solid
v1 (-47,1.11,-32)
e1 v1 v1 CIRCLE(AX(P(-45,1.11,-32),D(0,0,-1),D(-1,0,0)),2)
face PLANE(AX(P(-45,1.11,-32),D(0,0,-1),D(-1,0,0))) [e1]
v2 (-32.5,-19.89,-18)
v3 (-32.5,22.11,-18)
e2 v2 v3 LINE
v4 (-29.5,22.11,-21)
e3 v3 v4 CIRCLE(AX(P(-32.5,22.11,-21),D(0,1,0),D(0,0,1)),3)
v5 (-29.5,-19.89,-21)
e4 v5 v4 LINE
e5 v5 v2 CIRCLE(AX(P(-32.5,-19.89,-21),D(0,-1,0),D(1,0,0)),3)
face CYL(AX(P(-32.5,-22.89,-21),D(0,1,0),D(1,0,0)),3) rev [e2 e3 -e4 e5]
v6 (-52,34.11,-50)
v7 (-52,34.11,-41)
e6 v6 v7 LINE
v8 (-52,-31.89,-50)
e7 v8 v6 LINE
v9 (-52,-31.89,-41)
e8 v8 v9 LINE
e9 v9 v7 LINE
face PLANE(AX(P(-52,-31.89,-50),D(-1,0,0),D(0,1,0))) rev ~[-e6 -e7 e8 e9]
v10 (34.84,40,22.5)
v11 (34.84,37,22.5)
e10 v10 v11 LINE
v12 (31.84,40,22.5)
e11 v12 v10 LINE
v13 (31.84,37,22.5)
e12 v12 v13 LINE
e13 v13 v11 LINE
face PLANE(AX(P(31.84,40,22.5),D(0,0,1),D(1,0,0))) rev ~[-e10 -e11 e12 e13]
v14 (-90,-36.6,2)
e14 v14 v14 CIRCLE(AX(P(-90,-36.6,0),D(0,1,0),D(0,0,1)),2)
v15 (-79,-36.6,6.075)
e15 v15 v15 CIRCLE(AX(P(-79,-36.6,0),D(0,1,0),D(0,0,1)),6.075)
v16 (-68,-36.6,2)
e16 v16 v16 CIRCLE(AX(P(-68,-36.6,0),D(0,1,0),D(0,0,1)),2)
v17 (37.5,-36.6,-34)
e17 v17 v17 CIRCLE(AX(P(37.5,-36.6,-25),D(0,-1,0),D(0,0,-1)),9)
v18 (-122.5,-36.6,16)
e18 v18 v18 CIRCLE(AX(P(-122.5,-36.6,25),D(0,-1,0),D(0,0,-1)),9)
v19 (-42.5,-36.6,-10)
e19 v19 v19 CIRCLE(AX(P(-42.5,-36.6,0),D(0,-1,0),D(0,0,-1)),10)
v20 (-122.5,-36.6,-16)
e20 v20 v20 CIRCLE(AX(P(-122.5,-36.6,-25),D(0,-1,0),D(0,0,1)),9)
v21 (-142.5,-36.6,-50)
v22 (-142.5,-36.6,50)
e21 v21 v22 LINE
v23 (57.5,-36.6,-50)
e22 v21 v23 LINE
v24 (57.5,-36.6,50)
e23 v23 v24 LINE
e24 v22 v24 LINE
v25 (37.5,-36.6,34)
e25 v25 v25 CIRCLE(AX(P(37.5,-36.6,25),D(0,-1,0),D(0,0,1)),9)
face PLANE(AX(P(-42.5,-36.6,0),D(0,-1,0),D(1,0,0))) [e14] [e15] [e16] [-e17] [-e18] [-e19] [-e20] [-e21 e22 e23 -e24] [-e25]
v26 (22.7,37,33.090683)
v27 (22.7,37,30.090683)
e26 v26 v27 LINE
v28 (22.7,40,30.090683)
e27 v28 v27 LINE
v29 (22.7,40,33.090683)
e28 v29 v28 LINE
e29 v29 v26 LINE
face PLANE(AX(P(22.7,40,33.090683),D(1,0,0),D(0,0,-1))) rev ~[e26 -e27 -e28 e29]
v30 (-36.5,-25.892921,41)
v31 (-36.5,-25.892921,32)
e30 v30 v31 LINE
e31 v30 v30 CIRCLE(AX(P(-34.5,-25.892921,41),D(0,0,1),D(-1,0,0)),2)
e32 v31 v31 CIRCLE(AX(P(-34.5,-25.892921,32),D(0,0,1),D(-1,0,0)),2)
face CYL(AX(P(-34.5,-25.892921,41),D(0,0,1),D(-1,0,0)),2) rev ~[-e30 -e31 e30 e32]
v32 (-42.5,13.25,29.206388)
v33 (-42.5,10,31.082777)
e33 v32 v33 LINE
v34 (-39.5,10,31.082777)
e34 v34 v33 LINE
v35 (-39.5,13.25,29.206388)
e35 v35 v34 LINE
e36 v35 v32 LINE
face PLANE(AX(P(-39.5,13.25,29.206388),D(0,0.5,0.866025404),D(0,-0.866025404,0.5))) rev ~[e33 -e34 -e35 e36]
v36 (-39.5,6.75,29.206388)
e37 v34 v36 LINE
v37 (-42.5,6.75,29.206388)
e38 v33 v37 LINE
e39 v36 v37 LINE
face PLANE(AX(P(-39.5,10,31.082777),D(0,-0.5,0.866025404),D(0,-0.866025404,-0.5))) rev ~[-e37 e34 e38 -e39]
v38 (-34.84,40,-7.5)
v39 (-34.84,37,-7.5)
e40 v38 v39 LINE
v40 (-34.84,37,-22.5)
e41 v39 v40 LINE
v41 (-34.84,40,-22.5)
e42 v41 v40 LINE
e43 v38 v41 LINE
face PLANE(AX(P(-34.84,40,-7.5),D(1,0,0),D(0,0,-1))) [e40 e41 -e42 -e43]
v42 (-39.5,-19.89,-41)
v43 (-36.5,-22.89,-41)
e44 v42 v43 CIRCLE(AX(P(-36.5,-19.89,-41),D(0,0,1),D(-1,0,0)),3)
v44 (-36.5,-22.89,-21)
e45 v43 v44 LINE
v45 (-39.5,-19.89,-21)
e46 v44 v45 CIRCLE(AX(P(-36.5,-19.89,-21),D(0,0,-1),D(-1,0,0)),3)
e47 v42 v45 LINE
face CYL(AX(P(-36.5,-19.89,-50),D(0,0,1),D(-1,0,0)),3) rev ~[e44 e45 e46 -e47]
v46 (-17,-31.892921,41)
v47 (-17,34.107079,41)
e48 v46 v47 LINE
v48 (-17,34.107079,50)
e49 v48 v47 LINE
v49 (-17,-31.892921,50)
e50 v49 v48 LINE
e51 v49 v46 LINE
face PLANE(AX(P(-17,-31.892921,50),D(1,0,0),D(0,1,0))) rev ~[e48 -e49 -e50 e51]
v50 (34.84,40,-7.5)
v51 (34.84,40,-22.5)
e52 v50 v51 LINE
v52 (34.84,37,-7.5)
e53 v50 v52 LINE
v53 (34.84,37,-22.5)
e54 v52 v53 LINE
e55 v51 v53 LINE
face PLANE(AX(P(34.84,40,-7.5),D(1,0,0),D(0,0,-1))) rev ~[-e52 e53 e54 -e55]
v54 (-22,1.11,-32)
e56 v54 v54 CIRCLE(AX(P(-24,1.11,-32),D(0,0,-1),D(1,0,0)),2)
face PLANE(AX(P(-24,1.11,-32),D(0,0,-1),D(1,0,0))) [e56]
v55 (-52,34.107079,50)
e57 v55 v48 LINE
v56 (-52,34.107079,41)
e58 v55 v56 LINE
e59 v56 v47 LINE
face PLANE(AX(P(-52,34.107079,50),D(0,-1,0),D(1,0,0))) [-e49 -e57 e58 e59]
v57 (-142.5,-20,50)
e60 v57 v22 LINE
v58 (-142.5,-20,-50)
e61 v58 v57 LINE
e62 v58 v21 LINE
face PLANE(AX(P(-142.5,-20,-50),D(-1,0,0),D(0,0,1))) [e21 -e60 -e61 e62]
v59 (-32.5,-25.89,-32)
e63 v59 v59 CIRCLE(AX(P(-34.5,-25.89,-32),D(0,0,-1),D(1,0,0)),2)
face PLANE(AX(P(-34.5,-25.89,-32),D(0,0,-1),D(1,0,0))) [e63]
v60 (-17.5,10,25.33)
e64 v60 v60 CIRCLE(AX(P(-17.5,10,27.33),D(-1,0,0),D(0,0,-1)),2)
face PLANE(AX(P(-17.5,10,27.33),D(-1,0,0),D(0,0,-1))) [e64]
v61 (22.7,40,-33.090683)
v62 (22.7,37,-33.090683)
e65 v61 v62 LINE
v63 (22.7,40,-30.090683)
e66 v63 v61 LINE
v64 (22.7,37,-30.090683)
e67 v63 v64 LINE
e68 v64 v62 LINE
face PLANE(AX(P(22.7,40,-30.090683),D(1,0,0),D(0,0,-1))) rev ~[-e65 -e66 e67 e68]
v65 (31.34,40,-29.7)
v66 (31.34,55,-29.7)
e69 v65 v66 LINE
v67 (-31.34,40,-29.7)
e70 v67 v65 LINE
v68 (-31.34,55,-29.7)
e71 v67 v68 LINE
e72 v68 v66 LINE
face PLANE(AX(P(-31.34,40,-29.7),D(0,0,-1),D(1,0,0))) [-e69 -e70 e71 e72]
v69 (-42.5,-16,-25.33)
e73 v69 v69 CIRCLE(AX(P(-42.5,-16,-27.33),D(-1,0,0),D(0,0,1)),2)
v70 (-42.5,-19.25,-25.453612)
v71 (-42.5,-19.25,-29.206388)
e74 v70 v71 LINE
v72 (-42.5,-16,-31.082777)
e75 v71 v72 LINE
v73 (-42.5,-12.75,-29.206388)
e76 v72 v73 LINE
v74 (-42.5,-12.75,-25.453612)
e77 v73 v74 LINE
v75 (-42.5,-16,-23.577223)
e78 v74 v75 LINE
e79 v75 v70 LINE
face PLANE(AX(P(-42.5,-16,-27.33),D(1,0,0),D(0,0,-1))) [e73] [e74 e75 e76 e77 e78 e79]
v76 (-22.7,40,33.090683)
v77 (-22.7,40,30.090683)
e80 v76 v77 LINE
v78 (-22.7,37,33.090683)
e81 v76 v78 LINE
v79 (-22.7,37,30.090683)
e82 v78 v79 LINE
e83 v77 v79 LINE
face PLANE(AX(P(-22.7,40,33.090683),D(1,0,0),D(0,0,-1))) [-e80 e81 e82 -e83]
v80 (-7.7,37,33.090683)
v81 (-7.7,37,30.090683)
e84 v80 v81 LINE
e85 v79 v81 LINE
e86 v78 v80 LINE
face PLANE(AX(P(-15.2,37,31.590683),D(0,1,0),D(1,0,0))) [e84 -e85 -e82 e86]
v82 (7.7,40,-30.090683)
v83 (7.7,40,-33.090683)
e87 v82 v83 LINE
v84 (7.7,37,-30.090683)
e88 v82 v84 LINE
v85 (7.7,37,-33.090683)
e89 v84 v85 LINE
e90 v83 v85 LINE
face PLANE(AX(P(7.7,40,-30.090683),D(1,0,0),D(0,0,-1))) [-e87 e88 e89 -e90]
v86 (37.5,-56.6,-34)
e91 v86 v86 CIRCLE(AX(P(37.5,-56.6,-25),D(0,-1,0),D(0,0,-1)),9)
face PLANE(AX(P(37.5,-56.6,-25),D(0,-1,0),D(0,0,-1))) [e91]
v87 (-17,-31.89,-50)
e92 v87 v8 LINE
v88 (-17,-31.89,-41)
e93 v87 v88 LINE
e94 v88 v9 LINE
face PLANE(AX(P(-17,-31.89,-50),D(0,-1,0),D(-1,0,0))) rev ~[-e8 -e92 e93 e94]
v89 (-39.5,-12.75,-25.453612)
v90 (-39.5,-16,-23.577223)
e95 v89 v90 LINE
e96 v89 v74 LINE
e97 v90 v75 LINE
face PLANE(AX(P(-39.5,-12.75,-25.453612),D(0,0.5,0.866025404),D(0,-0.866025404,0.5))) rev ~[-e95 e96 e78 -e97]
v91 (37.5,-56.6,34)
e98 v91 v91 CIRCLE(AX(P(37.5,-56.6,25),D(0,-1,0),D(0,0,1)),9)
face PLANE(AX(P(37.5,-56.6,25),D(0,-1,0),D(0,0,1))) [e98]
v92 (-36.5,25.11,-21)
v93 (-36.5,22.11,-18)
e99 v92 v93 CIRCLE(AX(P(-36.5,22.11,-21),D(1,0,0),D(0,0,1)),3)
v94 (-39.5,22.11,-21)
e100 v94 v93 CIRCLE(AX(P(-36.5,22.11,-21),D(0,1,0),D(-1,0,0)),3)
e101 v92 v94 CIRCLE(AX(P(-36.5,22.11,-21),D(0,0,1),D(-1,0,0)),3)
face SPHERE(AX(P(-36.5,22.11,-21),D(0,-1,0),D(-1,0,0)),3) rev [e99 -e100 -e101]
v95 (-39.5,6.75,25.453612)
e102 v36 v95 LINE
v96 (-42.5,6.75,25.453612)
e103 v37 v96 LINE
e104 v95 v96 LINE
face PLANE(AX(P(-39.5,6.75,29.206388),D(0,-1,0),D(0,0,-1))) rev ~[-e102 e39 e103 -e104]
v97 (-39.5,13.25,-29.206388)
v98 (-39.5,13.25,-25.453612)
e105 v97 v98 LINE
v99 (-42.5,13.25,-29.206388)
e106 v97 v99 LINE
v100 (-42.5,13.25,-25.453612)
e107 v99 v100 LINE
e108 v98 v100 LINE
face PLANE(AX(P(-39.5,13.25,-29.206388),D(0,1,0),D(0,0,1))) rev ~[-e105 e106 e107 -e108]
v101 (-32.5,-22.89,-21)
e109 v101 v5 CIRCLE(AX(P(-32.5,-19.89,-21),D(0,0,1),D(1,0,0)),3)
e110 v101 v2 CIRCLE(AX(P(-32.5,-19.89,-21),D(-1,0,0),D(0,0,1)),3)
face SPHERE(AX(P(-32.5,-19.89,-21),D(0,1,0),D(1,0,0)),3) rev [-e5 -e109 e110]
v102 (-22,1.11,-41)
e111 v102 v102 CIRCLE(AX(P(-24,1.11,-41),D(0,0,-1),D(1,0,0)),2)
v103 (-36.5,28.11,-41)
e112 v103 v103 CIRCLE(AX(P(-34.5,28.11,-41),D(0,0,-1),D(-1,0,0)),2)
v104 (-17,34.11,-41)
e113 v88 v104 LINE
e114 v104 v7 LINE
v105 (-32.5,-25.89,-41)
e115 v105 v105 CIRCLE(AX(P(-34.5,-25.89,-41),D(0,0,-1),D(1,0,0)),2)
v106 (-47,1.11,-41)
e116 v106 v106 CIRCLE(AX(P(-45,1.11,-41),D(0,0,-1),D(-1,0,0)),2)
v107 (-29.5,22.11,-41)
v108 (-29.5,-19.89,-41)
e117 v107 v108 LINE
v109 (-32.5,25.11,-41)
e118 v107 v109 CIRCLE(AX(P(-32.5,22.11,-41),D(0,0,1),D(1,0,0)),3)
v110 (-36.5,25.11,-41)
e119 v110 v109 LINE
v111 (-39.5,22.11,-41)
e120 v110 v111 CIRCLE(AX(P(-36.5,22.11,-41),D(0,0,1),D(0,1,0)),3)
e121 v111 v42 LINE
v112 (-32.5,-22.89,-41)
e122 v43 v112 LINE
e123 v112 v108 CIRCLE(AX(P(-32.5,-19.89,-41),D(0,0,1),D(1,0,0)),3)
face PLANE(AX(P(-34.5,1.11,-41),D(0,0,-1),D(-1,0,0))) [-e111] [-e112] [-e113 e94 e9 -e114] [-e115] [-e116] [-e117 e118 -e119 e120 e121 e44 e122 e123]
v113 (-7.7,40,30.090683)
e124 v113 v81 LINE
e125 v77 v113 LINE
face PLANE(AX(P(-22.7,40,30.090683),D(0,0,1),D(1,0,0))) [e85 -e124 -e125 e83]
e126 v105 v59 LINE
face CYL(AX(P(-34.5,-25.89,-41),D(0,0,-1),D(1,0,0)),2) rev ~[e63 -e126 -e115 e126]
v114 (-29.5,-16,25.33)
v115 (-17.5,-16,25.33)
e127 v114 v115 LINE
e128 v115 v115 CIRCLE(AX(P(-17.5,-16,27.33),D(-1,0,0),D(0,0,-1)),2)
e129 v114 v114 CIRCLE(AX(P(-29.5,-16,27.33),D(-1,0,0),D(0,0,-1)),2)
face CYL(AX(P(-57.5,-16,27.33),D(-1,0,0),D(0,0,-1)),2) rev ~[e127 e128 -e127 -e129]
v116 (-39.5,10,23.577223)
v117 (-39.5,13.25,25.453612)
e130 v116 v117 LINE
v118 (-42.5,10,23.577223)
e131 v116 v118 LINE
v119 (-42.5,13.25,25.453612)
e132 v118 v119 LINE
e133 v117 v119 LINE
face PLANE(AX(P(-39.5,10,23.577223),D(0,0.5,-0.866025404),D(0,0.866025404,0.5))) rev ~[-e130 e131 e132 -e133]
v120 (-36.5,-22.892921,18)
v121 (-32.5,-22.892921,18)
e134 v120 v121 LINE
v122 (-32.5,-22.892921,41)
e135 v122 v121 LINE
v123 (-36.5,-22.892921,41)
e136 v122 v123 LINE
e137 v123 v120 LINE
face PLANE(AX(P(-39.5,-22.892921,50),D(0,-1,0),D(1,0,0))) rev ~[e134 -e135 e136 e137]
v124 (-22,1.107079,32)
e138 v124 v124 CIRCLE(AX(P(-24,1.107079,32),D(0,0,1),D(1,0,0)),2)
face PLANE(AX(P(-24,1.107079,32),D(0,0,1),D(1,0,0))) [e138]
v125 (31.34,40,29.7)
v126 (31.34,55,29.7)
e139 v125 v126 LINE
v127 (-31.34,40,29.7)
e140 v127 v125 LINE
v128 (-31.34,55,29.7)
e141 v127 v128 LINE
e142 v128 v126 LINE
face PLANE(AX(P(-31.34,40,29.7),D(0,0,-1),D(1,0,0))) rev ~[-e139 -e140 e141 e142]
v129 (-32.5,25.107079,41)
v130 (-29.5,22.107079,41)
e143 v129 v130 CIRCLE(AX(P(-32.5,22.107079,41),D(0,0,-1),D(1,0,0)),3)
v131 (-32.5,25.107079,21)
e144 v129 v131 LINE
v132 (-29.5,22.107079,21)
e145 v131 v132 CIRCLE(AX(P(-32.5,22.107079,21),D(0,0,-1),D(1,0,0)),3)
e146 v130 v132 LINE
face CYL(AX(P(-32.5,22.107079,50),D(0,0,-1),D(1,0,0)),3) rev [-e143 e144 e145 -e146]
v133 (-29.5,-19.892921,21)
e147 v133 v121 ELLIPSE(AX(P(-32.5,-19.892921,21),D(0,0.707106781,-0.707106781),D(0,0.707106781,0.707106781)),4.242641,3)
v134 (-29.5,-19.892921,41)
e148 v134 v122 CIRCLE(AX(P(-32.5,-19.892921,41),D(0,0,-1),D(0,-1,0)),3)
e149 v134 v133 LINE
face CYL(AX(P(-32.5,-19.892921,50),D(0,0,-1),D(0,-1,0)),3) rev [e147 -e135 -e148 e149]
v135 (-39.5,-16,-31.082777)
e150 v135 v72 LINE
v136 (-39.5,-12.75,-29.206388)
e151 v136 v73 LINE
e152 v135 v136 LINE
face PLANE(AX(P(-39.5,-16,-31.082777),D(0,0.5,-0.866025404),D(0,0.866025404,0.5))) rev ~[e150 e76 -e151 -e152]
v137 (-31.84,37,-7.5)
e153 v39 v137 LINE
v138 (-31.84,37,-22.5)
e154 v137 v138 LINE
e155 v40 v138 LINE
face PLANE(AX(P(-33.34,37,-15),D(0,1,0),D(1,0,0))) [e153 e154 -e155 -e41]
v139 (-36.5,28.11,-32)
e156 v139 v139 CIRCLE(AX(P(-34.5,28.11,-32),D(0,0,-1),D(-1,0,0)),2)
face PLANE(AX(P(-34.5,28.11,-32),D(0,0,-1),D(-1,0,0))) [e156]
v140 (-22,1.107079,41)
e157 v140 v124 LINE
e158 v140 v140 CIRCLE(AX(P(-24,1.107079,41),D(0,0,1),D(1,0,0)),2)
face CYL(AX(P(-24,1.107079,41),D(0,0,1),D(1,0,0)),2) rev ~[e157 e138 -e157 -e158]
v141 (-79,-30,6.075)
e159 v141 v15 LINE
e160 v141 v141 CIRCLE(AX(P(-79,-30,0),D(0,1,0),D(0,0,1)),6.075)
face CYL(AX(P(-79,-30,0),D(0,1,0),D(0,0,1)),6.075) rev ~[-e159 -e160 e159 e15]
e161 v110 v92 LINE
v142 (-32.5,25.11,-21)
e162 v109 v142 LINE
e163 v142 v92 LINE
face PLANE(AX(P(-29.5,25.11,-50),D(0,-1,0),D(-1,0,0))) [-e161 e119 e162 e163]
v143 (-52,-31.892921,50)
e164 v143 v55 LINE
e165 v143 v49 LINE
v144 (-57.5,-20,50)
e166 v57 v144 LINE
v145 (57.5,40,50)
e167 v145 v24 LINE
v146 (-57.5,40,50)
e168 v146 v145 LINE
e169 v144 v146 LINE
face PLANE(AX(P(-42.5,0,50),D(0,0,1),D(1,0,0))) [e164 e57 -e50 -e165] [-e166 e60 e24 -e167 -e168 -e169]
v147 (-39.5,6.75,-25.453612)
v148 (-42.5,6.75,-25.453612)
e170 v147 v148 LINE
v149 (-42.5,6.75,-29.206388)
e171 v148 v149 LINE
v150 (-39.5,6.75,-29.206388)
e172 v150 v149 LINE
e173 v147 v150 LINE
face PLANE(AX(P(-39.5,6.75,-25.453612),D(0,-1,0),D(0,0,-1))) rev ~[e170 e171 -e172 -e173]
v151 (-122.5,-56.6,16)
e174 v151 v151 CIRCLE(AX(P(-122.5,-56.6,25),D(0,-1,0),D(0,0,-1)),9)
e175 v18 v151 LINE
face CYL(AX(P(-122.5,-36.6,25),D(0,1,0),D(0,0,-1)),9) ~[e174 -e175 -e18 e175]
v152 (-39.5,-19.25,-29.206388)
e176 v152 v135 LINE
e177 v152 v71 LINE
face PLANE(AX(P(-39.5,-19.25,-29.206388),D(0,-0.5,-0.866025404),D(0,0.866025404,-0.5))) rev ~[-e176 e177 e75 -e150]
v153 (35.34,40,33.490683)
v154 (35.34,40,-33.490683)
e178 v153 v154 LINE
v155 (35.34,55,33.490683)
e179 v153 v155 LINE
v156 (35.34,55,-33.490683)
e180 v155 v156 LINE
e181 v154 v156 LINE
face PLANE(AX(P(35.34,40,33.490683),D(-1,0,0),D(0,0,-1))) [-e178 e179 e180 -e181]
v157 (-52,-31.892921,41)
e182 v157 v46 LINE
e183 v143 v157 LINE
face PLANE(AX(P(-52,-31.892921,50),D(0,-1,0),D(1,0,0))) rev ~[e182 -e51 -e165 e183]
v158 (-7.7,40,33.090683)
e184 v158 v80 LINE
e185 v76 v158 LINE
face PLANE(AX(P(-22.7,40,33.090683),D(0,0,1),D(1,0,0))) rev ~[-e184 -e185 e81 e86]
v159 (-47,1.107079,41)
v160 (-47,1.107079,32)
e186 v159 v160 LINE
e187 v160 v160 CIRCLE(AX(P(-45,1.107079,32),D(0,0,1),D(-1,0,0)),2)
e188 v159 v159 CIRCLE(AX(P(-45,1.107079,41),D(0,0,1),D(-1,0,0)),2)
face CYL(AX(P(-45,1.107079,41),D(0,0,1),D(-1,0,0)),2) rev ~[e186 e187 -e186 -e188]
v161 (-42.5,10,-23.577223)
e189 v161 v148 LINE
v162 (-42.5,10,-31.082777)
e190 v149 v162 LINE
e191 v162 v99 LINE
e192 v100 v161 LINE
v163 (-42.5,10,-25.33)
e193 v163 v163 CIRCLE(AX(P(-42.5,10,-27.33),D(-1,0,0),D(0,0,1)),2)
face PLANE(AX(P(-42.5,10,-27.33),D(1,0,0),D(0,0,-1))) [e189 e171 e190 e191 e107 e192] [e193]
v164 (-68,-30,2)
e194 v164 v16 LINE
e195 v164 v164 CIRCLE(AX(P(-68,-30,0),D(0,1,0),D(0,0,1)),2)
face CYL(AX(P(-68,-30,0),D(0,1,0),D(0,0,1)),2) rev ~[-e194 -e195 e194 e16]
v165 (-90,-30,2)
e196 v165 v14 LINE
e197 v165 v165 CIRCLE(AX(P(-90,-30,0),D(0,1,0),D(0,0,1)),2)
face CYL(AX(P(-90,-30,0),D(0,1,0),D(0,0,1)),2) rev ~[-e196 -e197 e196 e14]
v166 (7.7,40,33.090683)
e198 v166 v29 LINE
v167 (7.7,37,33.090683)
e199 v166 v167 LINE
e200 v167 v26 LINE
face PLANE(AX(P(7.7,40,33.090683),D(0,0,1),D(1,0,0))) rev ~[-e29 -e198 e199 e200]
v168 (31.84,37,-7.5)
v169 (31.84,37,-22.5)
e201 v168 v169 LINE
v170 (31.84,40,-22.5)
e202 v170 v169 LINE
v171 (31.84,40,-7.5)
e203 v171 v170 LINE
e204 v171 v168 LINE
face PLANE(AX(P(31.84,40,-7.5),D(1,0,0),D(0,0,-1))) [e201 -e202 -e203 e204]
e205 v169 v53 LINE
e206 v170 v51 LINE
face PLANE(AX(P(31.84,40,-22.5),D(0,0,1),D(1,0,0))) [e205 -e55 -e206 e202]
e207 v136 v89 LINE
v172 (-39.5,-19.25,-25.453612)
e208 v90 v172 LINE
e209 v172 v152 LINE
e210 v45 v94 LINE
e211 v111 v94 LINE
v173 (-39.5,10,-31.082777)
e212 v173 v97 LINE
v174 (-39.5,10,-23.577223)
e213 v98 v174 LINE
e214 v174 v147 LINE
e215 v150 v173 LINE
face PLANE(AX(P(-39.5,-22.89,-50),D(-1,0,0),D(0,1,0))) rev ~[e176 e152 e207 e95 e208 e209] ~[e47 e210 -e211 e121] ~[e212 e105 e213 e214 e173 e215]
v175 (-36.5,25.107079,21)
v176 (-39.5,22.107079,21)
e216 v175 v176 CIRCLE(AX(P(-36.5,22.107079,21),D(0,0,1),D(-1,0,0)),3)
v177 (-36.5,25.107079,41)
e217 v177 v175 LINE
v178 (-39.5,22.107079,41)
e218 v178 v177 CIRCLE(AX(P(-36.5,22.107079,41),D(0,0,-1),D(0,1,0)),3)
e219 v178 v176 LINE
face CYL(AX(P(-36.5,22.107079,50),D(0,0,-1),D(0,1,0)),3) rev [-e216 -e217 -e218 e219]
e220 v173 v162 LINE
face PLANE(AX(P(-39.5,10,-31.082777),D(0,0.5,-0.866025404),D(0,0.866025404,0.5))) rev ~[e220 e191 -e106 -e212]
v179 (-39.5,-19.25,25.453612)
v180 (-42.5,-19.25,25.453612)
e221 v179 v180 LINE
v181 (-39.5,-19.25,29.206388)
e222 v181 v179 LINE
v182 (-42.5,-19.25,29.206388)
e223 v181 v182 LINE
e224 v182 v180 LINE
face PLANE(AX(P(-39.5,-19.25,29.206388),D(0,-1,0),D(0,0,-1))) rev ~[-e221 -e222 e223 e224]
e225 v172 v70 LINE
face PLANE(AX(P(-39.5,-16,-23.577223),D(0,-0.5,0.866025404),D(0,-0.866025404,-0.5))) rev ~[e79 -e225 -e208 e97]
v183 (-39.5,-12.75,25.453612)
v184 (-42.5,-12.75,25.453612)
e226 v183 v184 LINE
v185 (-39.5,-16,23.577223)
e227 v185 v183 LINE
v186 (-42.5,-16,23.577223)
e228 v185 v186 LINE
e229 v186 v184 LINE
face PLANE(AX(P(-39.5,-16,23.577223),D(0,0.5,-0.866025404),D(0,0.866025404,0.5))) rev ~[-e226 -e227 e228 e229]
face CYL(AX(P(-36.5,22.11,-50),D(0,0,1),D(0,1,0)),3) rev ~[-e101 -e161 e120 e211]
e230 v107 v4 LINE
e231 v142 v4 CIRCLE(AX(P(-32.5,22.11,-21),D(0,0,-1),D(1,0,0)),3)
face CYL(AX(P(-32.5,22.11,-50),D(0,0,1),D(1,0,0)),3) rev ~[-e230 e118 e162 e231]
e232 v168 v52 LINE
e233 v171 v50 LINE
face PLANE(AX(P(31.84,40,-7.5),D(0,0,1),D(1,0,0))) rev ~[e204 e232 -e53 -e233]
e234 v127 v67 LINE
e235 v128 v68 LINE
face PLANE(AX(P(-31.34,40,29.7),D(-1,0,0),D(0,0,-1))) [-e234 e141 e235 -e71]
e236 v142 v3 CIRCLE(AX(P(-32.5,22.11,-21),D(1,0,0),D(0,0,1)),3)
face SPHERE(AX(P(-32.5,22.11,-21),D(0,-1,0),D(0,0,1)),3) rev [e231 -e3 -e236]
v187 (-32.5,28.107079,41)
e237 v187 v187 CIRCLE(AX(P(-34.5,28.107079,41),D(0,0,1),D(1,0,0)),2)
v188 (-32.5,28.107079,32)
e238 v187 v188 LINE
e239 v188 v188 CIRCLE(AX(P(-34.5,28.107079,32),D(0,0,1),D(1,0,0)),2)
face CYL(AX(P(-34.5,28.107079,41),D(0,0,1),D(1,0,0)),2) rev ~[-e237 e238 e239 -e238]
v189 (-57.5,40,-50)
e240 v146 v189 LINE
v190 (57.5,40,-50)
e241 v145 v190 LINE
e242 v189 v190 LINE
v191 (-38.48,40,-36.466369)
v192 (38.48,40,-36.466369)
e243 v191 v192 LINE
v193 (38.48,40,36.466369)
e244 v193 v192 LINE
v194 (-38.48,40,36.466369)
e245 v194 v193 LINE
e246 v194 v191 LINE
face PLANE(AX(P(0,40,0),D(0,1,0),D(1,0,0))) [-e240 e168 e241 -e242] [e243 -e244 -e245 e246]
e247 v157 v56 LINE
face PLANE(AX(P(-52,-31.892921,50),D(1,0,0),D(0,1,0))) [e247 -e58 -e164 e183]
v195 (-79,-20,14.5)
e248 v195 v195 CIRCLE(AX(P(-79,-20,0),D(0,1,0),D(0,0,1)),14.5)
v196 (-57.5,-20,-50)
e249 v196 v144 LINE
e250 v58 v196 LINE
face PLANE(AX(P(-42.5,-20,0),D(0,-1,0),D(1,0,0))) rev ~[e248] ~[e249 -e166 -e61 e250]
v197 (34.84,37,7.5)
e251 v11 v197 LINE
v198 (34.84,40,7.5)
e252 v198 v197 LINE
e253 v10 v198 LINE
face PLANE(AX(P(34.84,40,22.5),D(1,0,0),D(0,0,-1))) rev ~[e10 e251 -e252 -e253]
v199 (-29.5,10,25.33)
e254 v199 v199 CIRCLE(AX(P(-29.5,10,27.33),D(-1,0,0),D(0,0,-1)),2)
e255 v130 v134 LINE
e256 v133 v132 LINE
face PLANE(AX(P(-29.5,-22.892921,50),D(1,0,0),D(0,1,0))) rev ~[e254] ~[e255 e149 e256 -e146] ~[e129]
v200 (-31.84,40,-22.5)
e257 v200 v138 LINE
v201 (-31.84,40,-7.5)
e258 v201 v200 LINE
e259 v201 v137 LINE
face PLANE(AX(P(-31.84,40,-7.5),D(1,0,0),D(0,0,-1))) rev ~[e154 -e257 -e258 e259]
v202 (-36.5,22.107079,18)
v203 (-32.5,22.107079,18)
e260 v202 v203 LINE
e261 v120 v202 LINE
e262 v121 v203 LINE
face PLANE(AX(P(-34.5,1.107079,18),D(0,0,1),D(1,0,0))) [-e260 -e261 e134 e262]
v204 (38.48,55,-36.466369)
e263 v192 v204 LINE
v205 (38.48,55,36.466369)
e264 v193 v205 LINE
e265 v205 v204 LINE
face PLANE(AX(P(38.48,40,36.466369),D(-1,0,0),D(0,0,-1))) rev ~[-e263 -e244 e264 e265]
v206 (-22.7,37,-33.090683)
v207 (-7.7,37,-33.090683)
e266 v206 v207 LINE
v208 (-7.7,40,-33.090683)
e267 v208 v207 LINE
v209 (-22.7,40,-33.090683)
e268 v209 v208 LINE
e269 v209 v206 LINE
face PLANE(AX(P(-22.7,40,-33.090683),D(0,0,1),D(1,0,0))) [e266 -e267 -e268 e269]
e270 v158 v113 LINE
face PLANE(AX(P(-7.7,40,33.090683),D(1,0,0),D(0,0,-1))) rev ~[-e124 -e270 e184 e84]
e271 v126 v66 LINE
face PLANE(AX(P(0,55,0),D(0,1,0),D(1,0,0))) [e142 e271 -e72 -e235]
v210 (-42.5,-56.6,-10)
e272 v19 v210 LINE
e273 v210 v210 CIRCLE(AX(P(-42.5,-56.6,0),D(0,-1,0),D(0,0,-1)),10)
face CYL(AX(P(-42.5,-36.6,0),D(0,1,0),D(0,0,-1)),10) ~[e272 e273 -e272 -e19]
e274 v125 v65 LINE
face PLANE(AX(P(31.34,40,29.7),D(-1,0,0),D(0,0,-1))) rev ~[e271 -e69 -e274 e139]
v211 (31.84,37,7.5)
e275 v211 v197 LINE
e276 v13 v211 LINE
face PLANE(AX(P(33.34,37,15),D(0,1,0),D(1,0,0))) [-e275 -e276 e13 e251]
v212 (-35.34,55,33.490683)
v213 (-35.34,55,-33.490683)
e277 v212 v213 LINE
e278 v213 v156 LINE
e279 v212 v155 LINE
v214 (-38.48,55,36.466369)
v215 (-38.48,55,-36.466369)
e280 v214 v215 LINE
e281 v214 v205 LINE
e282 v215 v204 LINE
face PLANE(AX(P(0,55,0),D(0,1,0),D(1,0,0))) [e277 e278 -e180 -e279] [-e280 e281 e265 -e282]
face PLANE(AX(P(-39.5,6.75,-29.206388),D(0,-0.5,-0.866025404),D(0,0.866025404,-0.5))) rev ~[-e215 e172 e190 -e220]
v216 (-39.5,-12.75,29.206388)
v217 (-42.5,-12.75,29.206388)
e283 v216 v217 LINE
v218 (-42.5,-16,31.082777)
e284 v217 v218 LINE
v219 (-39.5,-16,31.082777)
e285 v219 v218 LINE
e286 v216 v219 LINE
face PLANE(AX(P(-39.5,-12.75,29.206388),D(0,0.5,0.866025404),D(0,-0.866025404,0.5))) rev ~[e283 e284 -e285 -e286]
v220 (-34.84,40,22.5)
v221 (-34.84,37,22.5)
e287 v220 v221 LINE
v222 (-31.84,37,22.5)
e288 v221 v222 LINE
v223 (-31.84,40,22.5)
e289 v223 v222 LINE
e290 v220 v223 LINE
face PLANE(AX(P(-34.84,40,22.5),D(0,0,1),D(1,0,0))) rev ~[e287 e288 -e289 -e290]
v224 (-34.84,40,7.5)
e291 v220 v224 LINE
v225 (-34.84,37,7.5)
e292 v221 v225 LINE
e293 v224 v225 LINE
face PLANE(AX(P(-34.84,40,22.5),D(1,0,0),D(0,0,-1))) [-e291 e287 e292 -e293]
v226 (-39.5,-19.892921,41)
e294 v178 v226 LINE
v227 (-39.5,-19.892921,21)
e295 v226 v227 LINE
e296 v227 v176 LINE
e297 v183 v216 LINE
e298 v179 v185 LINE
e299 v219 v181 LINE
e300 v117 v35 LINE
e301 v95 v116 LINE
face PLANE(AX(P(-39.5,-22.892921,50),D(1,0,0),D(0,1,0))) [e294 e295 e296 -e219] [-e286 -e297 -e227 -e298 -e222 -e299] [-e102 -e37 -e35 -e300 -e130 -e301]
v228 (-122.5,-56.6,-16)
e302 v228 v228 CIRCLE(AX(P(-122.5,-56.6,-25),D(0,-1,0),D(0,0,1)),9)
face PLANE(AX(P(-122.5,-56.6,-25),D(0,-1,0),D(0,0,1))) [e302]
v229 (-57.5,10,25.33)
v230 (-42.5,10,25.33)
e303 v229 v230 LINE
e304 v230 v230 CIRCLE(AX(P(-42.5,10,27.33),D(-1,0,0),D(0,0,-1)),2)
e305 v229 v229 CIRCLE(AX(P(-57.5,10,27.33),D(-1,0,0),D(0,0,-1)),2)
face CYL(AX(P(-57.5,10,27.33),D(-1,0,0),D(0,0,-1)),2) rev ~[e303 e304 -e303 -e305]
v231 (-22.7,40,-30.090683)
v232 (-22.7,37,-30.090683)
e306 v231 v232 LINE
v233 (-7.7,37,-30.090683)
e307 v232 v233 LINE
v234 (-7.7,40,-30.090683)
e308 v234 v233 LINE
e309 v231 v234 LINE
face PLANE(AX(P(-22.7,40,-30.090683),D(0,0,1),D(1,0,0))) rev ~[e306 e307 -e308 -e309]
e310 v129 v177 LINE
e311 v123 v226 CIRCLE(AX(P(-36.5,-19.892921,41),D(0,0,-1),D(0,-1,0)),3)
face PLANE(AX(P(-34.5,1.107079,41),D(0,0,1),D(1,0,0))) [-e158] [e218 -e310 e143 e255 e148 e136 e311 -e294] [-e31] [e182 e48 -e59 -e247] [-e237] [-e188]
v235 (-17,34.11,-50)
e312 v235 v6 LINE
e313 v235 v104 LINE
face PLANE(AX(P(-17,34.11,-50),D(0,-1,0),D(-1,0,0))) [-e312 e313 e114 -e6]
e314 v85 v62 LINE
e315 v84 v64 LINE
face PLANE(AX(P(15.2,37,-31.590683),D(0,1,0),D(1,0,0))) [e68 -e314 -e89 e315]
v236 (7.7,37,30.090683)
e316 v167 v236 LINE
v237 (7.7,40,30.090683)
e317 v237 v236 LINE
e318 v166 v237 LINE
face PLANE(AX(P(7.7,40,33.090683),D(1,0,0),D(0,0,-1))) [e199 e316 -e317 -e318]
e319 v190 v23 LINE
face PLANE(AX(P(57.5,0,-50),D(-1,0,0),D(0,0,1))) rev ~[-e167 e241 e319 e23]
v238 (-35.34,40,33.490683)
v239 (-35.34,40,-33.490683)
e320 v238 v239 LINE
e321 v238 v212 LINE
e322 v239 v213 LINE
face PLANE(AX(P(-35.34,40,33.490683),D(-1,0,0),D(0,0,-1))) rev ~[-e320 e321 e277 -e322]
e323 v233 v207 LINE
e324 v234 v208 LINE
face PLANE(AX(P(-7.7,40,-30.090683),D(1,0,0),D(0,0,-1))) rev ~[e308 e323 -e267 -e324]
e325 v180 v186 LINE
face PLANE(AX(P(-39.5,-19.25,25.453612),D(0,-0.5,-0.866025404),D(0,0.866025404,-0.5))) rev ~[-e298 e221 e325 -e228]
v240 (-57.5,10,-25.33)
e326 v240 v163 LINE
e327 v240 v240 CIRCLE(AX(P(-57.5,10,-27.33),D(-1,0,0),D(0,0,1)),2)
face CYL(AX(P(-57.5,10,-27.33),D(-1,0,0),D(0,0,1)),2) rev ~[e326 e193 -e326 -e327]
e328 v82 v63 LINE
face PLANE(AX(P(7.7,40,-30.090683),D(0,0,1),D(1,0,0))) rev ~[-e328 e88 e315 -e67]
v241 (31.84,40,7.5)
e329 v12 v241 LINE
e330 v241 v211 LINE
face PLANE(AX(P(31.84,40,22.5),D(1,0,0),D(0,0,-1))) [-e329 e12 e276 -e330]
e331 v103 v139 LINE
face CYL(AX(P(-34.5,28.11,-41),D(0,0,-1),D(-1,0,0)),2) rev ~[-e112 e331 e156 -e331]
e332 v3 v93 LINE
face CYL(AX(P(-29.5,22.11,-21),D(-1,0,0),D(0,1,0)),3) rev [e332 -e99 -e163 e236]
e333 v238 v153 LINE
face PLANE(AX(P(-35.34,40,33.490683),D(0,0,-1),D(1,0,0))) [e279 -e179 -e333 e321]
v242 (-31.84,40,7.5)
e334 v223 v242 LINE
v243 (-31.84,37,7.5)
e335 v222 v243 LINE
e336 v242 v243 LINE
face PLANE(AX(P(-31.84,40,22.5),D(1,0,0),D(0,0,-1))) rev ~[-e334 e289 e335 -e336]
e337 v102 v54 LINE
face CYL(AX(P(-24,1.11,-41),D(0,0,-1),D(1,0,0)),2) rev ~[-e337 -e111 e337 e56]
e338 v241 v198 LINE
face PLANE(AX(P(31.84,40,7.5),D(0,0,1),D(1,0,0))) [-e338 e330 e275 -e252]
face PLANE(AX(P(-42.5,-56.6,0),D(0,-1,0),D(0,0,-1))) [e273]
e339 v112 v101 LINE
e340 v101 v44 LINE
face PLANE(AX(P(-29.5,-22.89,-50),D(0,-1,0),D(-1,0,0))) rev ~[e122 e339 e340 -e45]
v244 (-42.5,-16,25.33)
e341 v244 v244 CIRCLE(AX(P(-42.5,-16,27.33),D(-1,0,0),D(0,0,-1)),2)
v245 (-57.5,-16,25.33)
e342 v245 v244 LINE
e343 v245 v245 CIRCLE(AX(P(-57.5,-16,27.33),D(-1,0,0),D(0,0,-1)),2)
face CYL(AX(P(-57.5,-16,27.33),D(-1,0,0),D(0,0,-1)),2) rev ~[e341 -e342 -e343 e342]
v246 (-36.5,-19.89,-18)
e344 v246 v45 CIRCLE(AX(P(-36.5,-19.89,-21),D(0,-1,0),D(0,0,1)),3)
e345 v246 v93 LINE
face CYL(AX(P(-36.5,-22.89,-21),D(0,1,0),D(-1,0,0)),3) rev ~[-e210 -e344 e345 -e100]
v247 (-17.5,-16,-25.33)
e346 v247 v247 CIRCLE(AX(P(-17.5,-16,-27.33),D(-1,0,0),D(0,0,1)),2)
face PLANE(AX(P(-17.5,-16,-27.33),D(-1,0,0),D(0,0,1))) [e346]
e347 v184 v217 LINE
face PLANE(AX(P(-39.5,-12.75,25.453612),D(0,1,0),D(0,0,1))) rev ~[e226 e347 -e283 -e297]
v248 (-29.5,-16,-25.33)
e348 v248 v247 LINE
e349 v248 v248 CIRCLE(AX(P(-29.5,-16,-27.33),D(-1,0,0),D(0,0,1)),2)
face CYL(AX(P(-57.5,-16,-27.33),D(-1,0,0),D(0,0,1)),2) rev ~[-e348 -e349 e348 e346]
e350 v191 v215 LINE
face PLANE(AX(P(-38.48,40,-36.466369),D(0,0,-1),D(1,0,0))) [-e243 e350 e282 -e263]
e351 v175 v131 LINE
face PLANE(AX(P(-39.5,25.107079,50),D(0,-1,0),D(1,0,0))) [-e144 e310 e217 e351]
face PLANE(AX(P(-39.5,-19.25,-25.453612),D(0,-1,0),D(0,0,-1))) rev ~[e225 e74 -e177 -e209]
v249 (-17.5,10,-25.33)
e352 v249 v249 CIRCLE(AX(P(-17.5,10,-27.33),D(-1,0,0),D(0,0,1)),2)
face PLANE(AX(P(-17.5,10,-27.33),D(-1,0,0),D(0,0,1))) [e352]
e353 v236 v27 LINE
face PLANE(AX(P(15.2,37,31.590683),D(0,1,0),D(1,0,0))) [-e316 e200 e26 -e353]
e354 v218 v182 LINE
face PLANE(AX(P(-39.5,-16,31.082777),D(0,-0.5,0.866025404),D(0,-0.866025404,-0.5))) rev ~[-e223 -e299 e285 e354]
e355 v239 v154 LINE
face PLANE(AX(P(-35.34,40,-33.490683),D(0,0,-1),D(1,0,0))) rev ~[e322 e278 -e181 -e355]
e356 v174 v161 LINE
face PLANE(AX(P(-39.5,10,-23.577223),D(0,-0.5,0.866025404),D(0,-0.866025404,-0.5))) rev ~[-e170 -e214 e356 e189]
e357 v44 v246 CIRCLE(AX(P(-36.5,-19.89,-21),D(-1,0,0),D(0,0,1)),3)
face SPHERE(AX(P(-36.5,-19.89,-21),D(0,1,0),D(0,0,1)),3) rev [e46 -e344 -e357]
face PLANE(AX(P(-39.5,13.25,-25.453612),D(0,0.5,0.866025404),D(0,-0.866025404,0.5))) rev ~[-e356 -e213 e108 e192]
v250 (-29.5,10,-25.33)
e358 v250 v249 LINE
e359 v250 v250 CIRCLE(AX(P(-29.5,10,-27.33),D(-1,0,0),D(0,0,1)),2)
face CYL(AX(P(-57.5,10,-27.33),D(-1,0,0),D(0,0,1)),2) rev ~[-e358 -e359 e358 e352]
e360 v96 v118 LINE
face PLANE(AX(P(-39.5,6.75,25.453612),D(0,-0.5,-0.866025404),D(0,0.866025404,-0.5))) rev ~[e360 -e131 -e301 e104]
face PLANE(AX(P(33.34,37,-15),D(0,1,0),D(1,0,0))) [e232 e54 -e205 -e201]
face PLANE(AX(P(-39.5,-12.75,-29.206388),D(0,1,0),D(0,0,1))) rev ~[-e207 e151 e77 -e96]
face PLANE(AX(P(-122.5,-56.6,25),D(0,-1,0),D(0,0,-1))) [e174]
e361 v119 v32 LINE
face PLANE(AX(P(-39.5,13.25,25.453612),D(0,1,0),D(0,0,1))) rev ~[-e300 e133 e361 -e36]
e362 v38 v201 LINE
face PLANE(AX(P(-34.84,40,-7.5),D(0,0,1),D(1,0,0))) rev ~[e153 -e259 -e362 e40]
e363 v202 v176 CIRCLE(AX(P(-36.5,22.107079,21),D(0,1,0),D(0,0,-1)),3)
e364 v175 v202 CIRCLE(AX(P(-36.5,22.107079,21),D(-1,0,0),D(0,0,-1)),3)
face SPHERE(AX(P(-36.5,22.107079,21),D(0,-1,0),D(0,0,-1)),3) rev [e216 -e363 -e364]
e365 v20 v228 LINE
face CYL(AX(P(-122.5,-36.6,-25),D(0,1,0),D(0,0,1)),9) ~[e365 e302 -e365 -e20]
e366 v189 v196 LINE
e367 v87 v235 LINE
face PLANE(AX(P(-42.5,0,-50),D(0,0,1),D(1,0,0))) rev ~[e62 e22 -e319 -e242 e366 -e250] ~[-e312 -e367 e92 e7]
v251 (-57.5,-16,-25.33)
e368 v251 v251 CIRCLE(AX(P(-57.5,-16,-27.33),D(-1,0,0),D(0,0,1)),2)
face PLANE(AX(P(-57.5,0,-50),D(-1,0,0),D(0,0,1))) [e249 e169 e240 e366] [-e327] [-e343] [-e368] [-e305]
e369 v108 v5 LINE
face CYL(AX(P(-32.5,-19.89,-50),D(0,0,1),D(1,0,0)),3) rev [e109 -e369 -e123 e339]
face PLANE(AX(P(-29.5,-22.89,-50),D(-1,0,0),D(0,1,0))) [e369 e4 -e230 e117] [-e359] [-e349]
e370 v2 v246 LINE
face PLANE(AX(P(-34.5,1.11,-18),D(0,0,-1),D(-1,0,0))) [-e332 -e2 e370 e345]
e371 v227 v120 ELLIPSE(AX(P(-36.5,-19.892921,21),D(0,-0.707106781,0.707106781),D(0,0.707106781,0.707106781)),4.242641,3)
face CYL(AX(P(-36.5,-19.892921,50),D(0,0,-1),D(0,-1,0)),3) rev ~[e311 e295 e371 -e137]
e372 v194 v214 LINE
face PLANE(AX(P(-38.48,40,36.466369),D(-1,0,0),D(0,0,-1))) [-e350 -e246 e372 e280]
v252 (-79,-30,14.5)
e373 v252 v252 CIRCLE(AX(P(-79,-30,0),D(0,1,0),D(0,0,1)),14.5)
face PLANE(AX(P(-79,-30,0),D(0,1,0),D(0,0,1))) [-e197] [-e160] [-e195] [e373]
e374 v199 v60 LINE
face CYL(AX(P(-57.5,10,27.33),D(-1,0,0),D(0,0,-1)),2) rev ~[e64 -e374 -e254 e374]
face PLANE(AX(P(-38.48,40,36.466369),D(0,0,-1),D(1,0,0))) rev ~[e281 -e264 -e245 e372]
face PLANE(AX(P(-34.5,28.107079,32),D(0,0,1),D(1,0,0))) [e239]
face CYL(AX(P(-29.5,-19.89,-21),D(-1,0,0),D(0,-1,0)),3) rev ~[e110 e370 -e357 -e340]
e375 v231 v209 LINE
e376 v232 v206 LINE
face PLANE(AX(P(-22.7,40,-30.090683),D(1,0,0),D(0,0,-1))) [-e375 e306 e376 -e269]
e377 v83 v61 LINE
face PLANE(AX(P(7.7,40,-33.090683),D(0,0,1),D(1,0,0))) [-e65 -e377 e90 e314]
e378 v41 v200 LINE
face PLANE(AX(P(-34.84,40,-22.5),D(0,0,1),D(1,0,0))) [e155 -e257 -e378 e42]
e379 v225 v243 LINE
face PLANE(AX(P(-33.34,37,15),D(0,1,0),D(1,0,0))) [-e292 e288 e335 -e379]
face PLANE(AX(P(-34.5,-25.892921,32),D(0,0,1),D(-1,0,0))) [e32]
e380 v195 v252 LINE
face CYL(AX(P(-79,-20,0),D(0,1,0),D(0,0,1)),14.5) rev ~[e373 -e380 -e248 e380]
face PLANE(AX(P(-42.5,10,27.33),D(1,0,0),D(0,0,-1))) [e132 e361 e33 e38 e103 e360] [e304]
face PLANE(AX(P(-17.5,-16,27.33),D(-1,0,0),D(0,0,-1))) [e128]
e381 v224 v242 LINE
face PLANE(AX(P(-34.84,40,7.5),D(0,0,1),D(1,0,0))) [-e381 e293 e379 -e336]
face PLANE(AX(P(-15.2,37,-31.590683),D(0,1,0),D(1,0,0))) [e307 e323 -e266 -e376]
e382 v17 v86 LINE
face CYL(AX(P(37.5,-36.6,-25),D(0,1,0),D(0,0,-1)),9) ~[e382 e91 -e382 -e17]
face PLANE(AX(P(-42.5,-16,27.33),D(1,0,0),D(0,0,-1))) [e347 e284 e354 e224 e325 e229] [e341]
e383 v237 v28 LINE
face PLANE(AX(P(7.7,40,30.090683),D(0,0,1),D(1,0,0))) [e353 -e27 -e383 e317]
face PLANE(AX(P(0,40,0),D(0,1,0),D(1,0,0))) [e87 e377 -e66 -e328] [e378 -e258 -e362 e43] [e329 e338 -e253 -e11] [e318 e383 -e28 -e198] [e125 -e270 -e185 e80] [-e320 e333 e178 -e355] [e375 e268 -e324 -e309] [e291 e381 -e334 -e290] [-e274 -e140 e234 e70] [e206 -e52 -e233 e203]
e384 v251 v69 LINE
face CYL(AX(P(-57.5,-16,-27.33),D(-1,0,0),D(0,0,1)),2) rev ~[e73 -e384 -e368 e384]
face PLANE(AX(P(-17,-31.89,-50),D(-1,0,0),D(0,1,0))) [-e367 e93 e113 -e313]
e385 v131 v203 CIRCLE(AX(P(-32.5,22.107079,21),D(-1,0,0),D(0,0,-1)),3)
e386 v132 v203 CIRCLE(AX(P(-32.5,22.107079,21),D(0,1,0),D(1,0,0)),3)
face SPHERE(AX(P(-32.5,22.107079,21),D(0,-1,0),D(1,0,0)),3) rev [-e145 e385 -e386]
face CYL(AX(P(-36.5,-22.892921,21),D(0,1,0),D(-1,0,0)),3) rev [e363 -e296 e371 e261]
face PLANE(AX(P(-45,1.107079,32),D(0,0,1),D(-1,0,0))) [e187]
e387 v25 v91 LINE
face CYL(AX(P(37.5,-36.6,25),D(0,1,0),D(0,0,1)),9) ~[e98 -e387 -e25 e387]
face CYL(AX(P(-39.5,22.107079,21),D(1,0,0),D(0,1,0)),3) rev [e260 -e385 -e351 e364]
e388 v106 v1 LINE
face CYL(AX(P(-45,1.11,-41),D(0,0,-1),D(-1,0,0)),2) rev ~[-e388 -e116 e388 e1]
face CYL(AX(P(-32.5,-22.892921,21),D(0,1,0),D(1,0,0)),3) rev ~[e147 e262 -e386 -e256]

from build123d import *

# Parameters (mm, degrees)
SKETCH1_W            = 115
SKETCH1_H            = 100
BOSS_EXTRUDE1_DEPTH  = 40
SKETCH8_R            = 7
SKETCH8_R_2          = 6
BOSS_EXTRUDE4_DEPTH  = 20
SKETCH9_W            = 200
SKETCH9_H            = 100
BOSS_EXTRUDE5_DEPTH  = 16.6
SKETCH10_R           = 9
SKETCH10_R_2         = 10
BOSS_EXTRUDE7_DEPTH  = 20
SKETCH17_W           = 15
SKETCH17_H           = 100
BOSS_EXTRUDE15_DEPTH = 20
SKETCH15_R           = 14.5
CUT_EXTRUDE2_DEPTH   = 10
SKETCH21_R           = 2
SKETCH21_R_2         = 6.075
CUT_EXTRUDE3_DEPTH   = 20
SKETCH28_W           = 100
SKETCH28_H           = 100
BOSS_EXTRUDE16_DEPTH = 20
SKETCH19_R           = 2
CUT_EXTRUDE4_DEPTH   = 40
SKETCH11_W           = 76.96
SKETCH11_H           = 72.932737716
SKETCH11_W_2         = 70.68
SKETCH11_H_2         = 66.981365666
SKETCH11_W_3         = 62.68
SKETCH11_H_3         = 59.4
BOSS_EXTRUDE17_DEPTH = 15
SKETCH35_W           = 15
SKETCH35_H           = 3
SKETCH35_W_2         = 3
SKETCH35_H_2         = 15
CUT_EXTRUDE14_DEPTH  = 3
SKETCH36_W           = 10
SKETCH36_H           = 48
CUT_EXTRUDE15_DEPTH  = 32
CUT_EXTRUDE16_DEPTH  = 3
FILLET1_R            = 3
SKETCH42_W           = 35
SKETCH42_H           = 66
CUT_EXTRUDE20_DEPTH  = 9
SKETCH43_R           = 2
CUT_EXTRUDE21_DEPTH  = 9
SKETCH45_W           = 10
SKETCH45_H           = 48
CUT_EXTRUDE22_DEPTH  = 32
CUT_EXTRUDE23_DEPTH  = 3
FILLET2_R            = 3
SKETCH47_W           = 35
SKETCH47_H           = 66
CUT_EXTRUDE24_DEPTH  = 9
SKETCH48_R           = 2
CUT_EXTRUDE25_DEPTH  = 9


with BuildPart() as part:
    # Sketch1 → Boss-Extrude1 (new body)
    with BuildSketch(Plane(origin=(0, 0, 0), x_dir=(1, 0, 0), z_dir=(0, 1, 0))):
        Rectangle(SKETCH1_W, SKETCH1_H)
    extrude(amount=BOSS_EXTRUDE1_DEPTH)

    # Sketch8 → Boss-Extrude4 (add)
    with BuildSketch(Plane.XZ):
        with Locations(Location((0, 0, 0), (0, 0, 90))):
            Circle(SKETCH8_R)
        with Locations(Location((42.407889557, -36.876425702, 0), (0, 0, 90))):
            Circle(SKETCH8_R_2)
        with Locations(Location((42.407889557, 36.876425702, 0), (0, 0, 90))):
            Circle(SKETCH8_R_2)
    extrude(amount=BOSS_EXTRUDE4_DEPTH)

    # Sketch9 → Boss-Extrude5 (add)
    with BuildSketch(Plane.XZ.offset(20)):
        with Locations((-42.5, 0)):
            Rectangle(SKETCH9_W, SKETCH9_H)
    extrude(amount=BOSS_EXTRUDE5_DEPTH)

    # Sketch10 → Boss-Extrude7 (add)
    with BuildSketch(Plane.XZ.offset(36.6)):
        with Locations(Location((37.5, -25, 0), (0, 0, 270))):
            Circle(SKETCH10_R)
        with Locations(Location((-122.5, -25, 0), (0, 0, 90))):
            Circle(SKETCH10_R)
        with Locations(Location((-122.5, 25, 0), (0, 0, 270))):
            Circle(SKETCH10_R)
        with Locations(Location((37.5, 25, 0), (0, 0, 90))):
            Circle(SKETCH10_R)
        with Locations(Location((-42.5, 0, 0), (0, 0, 270))):
            Circle(SKETCH10_R_2)
    extrude(amount=BOSS_EXTRUDE7_DEPTH)

    # Sketch17 → Boss-Extrude15 (add)
    with BuildSketch(Plane.XZ):
        with Locations((-50, 0)):
            Rectangle(SKETCH17_W, SKETCH17_H)
    extrude(amount=BOSS_EXTRUDE15_DEPTH)

    # Sketch15 → Cut-Extrude2 (cut)
    with BuildSketch(Plane(origin=(0, -20, 0), x_dir=(1, 0, 0), z_dir=(0, 1, 0))):
        with Locations(Location((-79, 0, 0), (0, 0, 270))):
            Circle(SKETCH15_R)
    extrude(amount=-CUT_EXTRUDE2_DEPTH, mode=Mode.SUBTRACT)

    # Sketch21 → Cut-Extrude3 (cut)
    with BuildSketch(Plane(origin=(0, -30, 0), x_dir=(1, 0, 0), z_dir=(0, 1, 0))):
        with Locations(Location((-90, 0, 0), (0, 0, 270))):
            Circle(SKETCH21_R)
        with Locations(Location((-68, 0, 0), (0, 0, 270))):
            Circle(SKETCH21_R)
        with Locations(Location((-79, 0, 0), (0, 0, 270))):
            Circle(SKETCH21_R_2)
    extrude(amount=-CUT_EXTRUDE3_DEPTH, mode=Mode.SUBTRACT)

    # Sketch28 → Boss-Extrude16 (add)
    with BuildSketch(Plane.XZ):
        with Locations((7.5, 0)):
            Rectangle(SKETCH28_W, SKETCH28_H)
    extrude(amount=BOSS_EXTRUDE16_DEPTH)

    # Sketch19 → Cut-Extrude4 (cut)
    with BuildSketch(Plane.ZY.offset(57.5)):
        with Locations((-27.33, -16)):
            Circle(SKETCH19_R)
        with Locations((-27.33, 10)):
            Circle(SKETCH19_R)
        with Locations(Location((27.33, -16, 0), (0, 0, 180))):
            Circle(SKETCH19_R)
        with Locations(Location((27.33, 10, 0), (0, 0, 180))):
            Circle(SKETCH19_R)
    extrude(amount=-CUT_EXTRUDE4_DEPTH, mode=Mode.SUBTRACT)

    # Sketch11 → Boss-Extrude17 (add)
    # profile 1 of 2: a face of its own
    with BuildSketch(Plane(origin=(0, 40, 0), x_dir=(1, 0, 0), z_dir=(0, 1, 0))):
        Rectangle(SKETCH11_W, SKETCH11_H)
        Rectangle(SKETCH11_W_2, SKETCH11_H_2, mode=Mode.SUBTRACT)
    # profile 2 of 2: a face of its own
    with BuildSketch(Plane(origin=(0, 40, 0), x_dir=(1, 0, 0), z_dir=(0, 1, 0))):
        Rectangle(SKETCH11_W_3, SKETCH11_H_3)
    extrude(amount=BOSS_EXTRUDE17_DEPTH)

    # Sketch35 → Cut-Extrude14 (cut)
    with BuildSketch(Plane(origin=(0, 40, 0), x_dir=(1, 0, 0), z_dir=(0, 1, 0))):
        with Locations((-15.2, -31.590682833)):
            Rectangle(SKETCH35_W, SKETCH35_H)
        with Locations((-15.2, 31.590682833)):
            Rectangle(SKETCH35_W, SKETCH35_H)
        with Locations((15.2, -31.590682833)):
            Rectangle(SKETCH35_W, SKETCH35_H)
        with Locations((15.2, 31.590682833)):
            Rectangle(SKETCH35_W, SKETCH35_H)
        with Locations((-33.34, 15)):
            Rectangle(SKETCH35_W_2, SKETCH35_H_2)
        with Locations((-33.34, -15)):
            Rectangle(SKETCH35_W_2, SKETCH35_H_2)
        with Locations((33.34, 15)):
            Rectangle(SKETCH35_W_2, SKETCH35_H_2)
        with Locations((33.34, -15)):
            Rectangle(SKETCH35_W_2, SKETCH35_H_2)
    extrude(amount=-CUT_EXTRUDE14_DEPTH, mode=Mode.SUBTRACT)

    # Sketch36 → Cut-Extrude15 (cut)
    with BuildSketch(Plane.XY.offset(50)):
        with Locations((-34.5, 1.107079448)):
            Rectangle(SKETCH36_W, SKETCH36_H)
    extrude(amount=-CUT_EXTRUDE15_DEPTH, mode=Mode.SUBTRACT)

    # Sketch37 → Cut-Extrude16 (cut)
    with BuildSketch(Plane(origin=(-39.5, 0, 0), x_dir=(0, 0, -1), z_dir=(1, 0, 0))):
        Polygon((-29.206388375, 13.25), (-31.08277675, 10), (-29.206388375, 6.75), (-25.453611625, 6.75), (-23.57722325, 10), (-25.453611625, 13.25), align=None)
        Polygon((-29.206388375, -12.75), (-31.08277675, -16), (-29.206388375, -19.25), (-25.453611625, -19.25), (-23.57722325, -16), (-25.453611625, -12.75), align=None)
    extrude(amount=-CUT_EXTRUDE16_DEPTH, mode=Mode.SUBTRACT)

    # Fillet1
    fillet1_edges = [part.edges().sort_by_distance(p)[0] for p in [
        (-39.5, 1.107079448, 18),
        (-39.5, -22.892920552, 34),
        (-29.5, 1.107079448, 18),
        (-29.5, 25.107079448, 34),
        (-34.5, 25.107079448, 18),
        (-39.5, 25.107079448, 34),
        (-29.5, -22.892920552, 34),
    ]]
    fillet(fillet1_edges, radius=FILLET1_R)

    # Sketch42 → Cut-Extrude20 (cut)
    with BuildSketch(Plane.XY.offset(50)):
        with Locations((-34.5, 1.107079448)):
            Rectangle(SKETCH42_W, SKETCH42_H)
    extrude(amount=-CUT_EXTRUDE20_DEPTH, mode=Mode.SUBTRACT)

    # Sketch43 → Cut-Extrude21 (cut)
    with BuildSketch(Plane.XY.offset(41)):
        with Locations((-34.5, 28.107079448)):
            Circle(SKETCH43_R)
        with Locations((-24, 1.107079448)):
            Circle(SKETCH43_R)
        with Locations(Location((-34.5, -25.892920552, 0), (0, 0, 180))):
            Circle(SKETCH43_R)
        with Locations(Location((-45, 1.107079448, 0), (0, 0, 180))):
            Circle(SKETCH43_R)
    extrude(amount=-CUT_EXTRUDE21_DEPTH, mode=Mode.SUBTRACT)

    # Sketch45 → Cut-Extrude22 (cut)
    with BuildSketch(Plane(origin=(0, 0, -50), x_dir=(-1, 0, 0), z_dir=(0, 0, -1))):
        with Locations((34.5, 1.11)):
            Rectangle(SKETCH45_W, SKETCH45_H)
    extrude(amount=-CUT_EXTRUDE22_DEPTH, mode=Mode.SUBTRACT)

    # Sketch46 → Cut-Extrude23 (cut)
    with BuildSketch(Plane(origin=(-39.5, 0, 0), x_dir=(0, 0, -1), z_dir=(1, 0, 0))):
        Polygon((29.206388375, 13.25), (25.453611625, 13.25), (23.57722325, 10), (25.453611625, 6.75), (29.206388375, 6.75), (31.08277675, 10), align=None)
        Polygon((25.453611625, -12.75), (23.57722325, -16), (25.453611625, -19.25), (29.206388375, -19.25), (31.08277675, -16), (29.206388375, -12.75), align=None)
    extrude(amount=-CUT_EXTRUDE23_DEPTH, mode=Mode.SUBTRACT)

    # Fillet2
    fillet2_edges = [part.edges().sort_by_distance(p)[0] for p in [
        (-29.5, 1.11, -18),
        (-29.5, -22.89, -34),
        (-39.5, 1.11, -18),
        (-39.5, 25.11, -34),
        (-34.5, 25.11, -18),
        (-29.5, 25.11, -34),
        (-34.5, -22.89, -18),
        (-39.5, -22.89, -34),
    ]]
    fillet(fillet2_edges, radius=FILLET2_R)

    # Sketch47 → Cut-Extrude24 (cut)
    with BuildSketch(Plane(origin=(0, 0, -50), x_dir=(-1, 0, 0), z_dir=(0, 0, -1))):
        with Locations((34.5, 1.11)):
            Rectangle(SKETCH47_W, SKETCH47_H)
    extrude(amount=-CUT_EXTRUDE24_DEPTH, mode=Mode.SUBTRACT)

    # Sketch48 → Cut-Extrude25 (cut)
    with BuildSketch(Plane(origin=(0, 0, -41), x_dir=(-1, 0, 0), z_dir=(0, 0, -1))):
        with Locations((34.5, 28.11)):
            Circle(SKETCH48_R)
        with Locations((45, 1.11)):
            Circle(SKETCH48_R)
        with Locations(Location((24, 1.11, 0), (0, 0, 180))):
            Circle(SKETCH48_R)
        with Locations(Location((34.5, -25.89, 0), (0, 0, 180))):
            Circle(SKETCH48_R)
    extrude(amount=-CUT_EXTRUDE25_DEPTH, mode=Mode.SUBTRACT)


solid = part.part
